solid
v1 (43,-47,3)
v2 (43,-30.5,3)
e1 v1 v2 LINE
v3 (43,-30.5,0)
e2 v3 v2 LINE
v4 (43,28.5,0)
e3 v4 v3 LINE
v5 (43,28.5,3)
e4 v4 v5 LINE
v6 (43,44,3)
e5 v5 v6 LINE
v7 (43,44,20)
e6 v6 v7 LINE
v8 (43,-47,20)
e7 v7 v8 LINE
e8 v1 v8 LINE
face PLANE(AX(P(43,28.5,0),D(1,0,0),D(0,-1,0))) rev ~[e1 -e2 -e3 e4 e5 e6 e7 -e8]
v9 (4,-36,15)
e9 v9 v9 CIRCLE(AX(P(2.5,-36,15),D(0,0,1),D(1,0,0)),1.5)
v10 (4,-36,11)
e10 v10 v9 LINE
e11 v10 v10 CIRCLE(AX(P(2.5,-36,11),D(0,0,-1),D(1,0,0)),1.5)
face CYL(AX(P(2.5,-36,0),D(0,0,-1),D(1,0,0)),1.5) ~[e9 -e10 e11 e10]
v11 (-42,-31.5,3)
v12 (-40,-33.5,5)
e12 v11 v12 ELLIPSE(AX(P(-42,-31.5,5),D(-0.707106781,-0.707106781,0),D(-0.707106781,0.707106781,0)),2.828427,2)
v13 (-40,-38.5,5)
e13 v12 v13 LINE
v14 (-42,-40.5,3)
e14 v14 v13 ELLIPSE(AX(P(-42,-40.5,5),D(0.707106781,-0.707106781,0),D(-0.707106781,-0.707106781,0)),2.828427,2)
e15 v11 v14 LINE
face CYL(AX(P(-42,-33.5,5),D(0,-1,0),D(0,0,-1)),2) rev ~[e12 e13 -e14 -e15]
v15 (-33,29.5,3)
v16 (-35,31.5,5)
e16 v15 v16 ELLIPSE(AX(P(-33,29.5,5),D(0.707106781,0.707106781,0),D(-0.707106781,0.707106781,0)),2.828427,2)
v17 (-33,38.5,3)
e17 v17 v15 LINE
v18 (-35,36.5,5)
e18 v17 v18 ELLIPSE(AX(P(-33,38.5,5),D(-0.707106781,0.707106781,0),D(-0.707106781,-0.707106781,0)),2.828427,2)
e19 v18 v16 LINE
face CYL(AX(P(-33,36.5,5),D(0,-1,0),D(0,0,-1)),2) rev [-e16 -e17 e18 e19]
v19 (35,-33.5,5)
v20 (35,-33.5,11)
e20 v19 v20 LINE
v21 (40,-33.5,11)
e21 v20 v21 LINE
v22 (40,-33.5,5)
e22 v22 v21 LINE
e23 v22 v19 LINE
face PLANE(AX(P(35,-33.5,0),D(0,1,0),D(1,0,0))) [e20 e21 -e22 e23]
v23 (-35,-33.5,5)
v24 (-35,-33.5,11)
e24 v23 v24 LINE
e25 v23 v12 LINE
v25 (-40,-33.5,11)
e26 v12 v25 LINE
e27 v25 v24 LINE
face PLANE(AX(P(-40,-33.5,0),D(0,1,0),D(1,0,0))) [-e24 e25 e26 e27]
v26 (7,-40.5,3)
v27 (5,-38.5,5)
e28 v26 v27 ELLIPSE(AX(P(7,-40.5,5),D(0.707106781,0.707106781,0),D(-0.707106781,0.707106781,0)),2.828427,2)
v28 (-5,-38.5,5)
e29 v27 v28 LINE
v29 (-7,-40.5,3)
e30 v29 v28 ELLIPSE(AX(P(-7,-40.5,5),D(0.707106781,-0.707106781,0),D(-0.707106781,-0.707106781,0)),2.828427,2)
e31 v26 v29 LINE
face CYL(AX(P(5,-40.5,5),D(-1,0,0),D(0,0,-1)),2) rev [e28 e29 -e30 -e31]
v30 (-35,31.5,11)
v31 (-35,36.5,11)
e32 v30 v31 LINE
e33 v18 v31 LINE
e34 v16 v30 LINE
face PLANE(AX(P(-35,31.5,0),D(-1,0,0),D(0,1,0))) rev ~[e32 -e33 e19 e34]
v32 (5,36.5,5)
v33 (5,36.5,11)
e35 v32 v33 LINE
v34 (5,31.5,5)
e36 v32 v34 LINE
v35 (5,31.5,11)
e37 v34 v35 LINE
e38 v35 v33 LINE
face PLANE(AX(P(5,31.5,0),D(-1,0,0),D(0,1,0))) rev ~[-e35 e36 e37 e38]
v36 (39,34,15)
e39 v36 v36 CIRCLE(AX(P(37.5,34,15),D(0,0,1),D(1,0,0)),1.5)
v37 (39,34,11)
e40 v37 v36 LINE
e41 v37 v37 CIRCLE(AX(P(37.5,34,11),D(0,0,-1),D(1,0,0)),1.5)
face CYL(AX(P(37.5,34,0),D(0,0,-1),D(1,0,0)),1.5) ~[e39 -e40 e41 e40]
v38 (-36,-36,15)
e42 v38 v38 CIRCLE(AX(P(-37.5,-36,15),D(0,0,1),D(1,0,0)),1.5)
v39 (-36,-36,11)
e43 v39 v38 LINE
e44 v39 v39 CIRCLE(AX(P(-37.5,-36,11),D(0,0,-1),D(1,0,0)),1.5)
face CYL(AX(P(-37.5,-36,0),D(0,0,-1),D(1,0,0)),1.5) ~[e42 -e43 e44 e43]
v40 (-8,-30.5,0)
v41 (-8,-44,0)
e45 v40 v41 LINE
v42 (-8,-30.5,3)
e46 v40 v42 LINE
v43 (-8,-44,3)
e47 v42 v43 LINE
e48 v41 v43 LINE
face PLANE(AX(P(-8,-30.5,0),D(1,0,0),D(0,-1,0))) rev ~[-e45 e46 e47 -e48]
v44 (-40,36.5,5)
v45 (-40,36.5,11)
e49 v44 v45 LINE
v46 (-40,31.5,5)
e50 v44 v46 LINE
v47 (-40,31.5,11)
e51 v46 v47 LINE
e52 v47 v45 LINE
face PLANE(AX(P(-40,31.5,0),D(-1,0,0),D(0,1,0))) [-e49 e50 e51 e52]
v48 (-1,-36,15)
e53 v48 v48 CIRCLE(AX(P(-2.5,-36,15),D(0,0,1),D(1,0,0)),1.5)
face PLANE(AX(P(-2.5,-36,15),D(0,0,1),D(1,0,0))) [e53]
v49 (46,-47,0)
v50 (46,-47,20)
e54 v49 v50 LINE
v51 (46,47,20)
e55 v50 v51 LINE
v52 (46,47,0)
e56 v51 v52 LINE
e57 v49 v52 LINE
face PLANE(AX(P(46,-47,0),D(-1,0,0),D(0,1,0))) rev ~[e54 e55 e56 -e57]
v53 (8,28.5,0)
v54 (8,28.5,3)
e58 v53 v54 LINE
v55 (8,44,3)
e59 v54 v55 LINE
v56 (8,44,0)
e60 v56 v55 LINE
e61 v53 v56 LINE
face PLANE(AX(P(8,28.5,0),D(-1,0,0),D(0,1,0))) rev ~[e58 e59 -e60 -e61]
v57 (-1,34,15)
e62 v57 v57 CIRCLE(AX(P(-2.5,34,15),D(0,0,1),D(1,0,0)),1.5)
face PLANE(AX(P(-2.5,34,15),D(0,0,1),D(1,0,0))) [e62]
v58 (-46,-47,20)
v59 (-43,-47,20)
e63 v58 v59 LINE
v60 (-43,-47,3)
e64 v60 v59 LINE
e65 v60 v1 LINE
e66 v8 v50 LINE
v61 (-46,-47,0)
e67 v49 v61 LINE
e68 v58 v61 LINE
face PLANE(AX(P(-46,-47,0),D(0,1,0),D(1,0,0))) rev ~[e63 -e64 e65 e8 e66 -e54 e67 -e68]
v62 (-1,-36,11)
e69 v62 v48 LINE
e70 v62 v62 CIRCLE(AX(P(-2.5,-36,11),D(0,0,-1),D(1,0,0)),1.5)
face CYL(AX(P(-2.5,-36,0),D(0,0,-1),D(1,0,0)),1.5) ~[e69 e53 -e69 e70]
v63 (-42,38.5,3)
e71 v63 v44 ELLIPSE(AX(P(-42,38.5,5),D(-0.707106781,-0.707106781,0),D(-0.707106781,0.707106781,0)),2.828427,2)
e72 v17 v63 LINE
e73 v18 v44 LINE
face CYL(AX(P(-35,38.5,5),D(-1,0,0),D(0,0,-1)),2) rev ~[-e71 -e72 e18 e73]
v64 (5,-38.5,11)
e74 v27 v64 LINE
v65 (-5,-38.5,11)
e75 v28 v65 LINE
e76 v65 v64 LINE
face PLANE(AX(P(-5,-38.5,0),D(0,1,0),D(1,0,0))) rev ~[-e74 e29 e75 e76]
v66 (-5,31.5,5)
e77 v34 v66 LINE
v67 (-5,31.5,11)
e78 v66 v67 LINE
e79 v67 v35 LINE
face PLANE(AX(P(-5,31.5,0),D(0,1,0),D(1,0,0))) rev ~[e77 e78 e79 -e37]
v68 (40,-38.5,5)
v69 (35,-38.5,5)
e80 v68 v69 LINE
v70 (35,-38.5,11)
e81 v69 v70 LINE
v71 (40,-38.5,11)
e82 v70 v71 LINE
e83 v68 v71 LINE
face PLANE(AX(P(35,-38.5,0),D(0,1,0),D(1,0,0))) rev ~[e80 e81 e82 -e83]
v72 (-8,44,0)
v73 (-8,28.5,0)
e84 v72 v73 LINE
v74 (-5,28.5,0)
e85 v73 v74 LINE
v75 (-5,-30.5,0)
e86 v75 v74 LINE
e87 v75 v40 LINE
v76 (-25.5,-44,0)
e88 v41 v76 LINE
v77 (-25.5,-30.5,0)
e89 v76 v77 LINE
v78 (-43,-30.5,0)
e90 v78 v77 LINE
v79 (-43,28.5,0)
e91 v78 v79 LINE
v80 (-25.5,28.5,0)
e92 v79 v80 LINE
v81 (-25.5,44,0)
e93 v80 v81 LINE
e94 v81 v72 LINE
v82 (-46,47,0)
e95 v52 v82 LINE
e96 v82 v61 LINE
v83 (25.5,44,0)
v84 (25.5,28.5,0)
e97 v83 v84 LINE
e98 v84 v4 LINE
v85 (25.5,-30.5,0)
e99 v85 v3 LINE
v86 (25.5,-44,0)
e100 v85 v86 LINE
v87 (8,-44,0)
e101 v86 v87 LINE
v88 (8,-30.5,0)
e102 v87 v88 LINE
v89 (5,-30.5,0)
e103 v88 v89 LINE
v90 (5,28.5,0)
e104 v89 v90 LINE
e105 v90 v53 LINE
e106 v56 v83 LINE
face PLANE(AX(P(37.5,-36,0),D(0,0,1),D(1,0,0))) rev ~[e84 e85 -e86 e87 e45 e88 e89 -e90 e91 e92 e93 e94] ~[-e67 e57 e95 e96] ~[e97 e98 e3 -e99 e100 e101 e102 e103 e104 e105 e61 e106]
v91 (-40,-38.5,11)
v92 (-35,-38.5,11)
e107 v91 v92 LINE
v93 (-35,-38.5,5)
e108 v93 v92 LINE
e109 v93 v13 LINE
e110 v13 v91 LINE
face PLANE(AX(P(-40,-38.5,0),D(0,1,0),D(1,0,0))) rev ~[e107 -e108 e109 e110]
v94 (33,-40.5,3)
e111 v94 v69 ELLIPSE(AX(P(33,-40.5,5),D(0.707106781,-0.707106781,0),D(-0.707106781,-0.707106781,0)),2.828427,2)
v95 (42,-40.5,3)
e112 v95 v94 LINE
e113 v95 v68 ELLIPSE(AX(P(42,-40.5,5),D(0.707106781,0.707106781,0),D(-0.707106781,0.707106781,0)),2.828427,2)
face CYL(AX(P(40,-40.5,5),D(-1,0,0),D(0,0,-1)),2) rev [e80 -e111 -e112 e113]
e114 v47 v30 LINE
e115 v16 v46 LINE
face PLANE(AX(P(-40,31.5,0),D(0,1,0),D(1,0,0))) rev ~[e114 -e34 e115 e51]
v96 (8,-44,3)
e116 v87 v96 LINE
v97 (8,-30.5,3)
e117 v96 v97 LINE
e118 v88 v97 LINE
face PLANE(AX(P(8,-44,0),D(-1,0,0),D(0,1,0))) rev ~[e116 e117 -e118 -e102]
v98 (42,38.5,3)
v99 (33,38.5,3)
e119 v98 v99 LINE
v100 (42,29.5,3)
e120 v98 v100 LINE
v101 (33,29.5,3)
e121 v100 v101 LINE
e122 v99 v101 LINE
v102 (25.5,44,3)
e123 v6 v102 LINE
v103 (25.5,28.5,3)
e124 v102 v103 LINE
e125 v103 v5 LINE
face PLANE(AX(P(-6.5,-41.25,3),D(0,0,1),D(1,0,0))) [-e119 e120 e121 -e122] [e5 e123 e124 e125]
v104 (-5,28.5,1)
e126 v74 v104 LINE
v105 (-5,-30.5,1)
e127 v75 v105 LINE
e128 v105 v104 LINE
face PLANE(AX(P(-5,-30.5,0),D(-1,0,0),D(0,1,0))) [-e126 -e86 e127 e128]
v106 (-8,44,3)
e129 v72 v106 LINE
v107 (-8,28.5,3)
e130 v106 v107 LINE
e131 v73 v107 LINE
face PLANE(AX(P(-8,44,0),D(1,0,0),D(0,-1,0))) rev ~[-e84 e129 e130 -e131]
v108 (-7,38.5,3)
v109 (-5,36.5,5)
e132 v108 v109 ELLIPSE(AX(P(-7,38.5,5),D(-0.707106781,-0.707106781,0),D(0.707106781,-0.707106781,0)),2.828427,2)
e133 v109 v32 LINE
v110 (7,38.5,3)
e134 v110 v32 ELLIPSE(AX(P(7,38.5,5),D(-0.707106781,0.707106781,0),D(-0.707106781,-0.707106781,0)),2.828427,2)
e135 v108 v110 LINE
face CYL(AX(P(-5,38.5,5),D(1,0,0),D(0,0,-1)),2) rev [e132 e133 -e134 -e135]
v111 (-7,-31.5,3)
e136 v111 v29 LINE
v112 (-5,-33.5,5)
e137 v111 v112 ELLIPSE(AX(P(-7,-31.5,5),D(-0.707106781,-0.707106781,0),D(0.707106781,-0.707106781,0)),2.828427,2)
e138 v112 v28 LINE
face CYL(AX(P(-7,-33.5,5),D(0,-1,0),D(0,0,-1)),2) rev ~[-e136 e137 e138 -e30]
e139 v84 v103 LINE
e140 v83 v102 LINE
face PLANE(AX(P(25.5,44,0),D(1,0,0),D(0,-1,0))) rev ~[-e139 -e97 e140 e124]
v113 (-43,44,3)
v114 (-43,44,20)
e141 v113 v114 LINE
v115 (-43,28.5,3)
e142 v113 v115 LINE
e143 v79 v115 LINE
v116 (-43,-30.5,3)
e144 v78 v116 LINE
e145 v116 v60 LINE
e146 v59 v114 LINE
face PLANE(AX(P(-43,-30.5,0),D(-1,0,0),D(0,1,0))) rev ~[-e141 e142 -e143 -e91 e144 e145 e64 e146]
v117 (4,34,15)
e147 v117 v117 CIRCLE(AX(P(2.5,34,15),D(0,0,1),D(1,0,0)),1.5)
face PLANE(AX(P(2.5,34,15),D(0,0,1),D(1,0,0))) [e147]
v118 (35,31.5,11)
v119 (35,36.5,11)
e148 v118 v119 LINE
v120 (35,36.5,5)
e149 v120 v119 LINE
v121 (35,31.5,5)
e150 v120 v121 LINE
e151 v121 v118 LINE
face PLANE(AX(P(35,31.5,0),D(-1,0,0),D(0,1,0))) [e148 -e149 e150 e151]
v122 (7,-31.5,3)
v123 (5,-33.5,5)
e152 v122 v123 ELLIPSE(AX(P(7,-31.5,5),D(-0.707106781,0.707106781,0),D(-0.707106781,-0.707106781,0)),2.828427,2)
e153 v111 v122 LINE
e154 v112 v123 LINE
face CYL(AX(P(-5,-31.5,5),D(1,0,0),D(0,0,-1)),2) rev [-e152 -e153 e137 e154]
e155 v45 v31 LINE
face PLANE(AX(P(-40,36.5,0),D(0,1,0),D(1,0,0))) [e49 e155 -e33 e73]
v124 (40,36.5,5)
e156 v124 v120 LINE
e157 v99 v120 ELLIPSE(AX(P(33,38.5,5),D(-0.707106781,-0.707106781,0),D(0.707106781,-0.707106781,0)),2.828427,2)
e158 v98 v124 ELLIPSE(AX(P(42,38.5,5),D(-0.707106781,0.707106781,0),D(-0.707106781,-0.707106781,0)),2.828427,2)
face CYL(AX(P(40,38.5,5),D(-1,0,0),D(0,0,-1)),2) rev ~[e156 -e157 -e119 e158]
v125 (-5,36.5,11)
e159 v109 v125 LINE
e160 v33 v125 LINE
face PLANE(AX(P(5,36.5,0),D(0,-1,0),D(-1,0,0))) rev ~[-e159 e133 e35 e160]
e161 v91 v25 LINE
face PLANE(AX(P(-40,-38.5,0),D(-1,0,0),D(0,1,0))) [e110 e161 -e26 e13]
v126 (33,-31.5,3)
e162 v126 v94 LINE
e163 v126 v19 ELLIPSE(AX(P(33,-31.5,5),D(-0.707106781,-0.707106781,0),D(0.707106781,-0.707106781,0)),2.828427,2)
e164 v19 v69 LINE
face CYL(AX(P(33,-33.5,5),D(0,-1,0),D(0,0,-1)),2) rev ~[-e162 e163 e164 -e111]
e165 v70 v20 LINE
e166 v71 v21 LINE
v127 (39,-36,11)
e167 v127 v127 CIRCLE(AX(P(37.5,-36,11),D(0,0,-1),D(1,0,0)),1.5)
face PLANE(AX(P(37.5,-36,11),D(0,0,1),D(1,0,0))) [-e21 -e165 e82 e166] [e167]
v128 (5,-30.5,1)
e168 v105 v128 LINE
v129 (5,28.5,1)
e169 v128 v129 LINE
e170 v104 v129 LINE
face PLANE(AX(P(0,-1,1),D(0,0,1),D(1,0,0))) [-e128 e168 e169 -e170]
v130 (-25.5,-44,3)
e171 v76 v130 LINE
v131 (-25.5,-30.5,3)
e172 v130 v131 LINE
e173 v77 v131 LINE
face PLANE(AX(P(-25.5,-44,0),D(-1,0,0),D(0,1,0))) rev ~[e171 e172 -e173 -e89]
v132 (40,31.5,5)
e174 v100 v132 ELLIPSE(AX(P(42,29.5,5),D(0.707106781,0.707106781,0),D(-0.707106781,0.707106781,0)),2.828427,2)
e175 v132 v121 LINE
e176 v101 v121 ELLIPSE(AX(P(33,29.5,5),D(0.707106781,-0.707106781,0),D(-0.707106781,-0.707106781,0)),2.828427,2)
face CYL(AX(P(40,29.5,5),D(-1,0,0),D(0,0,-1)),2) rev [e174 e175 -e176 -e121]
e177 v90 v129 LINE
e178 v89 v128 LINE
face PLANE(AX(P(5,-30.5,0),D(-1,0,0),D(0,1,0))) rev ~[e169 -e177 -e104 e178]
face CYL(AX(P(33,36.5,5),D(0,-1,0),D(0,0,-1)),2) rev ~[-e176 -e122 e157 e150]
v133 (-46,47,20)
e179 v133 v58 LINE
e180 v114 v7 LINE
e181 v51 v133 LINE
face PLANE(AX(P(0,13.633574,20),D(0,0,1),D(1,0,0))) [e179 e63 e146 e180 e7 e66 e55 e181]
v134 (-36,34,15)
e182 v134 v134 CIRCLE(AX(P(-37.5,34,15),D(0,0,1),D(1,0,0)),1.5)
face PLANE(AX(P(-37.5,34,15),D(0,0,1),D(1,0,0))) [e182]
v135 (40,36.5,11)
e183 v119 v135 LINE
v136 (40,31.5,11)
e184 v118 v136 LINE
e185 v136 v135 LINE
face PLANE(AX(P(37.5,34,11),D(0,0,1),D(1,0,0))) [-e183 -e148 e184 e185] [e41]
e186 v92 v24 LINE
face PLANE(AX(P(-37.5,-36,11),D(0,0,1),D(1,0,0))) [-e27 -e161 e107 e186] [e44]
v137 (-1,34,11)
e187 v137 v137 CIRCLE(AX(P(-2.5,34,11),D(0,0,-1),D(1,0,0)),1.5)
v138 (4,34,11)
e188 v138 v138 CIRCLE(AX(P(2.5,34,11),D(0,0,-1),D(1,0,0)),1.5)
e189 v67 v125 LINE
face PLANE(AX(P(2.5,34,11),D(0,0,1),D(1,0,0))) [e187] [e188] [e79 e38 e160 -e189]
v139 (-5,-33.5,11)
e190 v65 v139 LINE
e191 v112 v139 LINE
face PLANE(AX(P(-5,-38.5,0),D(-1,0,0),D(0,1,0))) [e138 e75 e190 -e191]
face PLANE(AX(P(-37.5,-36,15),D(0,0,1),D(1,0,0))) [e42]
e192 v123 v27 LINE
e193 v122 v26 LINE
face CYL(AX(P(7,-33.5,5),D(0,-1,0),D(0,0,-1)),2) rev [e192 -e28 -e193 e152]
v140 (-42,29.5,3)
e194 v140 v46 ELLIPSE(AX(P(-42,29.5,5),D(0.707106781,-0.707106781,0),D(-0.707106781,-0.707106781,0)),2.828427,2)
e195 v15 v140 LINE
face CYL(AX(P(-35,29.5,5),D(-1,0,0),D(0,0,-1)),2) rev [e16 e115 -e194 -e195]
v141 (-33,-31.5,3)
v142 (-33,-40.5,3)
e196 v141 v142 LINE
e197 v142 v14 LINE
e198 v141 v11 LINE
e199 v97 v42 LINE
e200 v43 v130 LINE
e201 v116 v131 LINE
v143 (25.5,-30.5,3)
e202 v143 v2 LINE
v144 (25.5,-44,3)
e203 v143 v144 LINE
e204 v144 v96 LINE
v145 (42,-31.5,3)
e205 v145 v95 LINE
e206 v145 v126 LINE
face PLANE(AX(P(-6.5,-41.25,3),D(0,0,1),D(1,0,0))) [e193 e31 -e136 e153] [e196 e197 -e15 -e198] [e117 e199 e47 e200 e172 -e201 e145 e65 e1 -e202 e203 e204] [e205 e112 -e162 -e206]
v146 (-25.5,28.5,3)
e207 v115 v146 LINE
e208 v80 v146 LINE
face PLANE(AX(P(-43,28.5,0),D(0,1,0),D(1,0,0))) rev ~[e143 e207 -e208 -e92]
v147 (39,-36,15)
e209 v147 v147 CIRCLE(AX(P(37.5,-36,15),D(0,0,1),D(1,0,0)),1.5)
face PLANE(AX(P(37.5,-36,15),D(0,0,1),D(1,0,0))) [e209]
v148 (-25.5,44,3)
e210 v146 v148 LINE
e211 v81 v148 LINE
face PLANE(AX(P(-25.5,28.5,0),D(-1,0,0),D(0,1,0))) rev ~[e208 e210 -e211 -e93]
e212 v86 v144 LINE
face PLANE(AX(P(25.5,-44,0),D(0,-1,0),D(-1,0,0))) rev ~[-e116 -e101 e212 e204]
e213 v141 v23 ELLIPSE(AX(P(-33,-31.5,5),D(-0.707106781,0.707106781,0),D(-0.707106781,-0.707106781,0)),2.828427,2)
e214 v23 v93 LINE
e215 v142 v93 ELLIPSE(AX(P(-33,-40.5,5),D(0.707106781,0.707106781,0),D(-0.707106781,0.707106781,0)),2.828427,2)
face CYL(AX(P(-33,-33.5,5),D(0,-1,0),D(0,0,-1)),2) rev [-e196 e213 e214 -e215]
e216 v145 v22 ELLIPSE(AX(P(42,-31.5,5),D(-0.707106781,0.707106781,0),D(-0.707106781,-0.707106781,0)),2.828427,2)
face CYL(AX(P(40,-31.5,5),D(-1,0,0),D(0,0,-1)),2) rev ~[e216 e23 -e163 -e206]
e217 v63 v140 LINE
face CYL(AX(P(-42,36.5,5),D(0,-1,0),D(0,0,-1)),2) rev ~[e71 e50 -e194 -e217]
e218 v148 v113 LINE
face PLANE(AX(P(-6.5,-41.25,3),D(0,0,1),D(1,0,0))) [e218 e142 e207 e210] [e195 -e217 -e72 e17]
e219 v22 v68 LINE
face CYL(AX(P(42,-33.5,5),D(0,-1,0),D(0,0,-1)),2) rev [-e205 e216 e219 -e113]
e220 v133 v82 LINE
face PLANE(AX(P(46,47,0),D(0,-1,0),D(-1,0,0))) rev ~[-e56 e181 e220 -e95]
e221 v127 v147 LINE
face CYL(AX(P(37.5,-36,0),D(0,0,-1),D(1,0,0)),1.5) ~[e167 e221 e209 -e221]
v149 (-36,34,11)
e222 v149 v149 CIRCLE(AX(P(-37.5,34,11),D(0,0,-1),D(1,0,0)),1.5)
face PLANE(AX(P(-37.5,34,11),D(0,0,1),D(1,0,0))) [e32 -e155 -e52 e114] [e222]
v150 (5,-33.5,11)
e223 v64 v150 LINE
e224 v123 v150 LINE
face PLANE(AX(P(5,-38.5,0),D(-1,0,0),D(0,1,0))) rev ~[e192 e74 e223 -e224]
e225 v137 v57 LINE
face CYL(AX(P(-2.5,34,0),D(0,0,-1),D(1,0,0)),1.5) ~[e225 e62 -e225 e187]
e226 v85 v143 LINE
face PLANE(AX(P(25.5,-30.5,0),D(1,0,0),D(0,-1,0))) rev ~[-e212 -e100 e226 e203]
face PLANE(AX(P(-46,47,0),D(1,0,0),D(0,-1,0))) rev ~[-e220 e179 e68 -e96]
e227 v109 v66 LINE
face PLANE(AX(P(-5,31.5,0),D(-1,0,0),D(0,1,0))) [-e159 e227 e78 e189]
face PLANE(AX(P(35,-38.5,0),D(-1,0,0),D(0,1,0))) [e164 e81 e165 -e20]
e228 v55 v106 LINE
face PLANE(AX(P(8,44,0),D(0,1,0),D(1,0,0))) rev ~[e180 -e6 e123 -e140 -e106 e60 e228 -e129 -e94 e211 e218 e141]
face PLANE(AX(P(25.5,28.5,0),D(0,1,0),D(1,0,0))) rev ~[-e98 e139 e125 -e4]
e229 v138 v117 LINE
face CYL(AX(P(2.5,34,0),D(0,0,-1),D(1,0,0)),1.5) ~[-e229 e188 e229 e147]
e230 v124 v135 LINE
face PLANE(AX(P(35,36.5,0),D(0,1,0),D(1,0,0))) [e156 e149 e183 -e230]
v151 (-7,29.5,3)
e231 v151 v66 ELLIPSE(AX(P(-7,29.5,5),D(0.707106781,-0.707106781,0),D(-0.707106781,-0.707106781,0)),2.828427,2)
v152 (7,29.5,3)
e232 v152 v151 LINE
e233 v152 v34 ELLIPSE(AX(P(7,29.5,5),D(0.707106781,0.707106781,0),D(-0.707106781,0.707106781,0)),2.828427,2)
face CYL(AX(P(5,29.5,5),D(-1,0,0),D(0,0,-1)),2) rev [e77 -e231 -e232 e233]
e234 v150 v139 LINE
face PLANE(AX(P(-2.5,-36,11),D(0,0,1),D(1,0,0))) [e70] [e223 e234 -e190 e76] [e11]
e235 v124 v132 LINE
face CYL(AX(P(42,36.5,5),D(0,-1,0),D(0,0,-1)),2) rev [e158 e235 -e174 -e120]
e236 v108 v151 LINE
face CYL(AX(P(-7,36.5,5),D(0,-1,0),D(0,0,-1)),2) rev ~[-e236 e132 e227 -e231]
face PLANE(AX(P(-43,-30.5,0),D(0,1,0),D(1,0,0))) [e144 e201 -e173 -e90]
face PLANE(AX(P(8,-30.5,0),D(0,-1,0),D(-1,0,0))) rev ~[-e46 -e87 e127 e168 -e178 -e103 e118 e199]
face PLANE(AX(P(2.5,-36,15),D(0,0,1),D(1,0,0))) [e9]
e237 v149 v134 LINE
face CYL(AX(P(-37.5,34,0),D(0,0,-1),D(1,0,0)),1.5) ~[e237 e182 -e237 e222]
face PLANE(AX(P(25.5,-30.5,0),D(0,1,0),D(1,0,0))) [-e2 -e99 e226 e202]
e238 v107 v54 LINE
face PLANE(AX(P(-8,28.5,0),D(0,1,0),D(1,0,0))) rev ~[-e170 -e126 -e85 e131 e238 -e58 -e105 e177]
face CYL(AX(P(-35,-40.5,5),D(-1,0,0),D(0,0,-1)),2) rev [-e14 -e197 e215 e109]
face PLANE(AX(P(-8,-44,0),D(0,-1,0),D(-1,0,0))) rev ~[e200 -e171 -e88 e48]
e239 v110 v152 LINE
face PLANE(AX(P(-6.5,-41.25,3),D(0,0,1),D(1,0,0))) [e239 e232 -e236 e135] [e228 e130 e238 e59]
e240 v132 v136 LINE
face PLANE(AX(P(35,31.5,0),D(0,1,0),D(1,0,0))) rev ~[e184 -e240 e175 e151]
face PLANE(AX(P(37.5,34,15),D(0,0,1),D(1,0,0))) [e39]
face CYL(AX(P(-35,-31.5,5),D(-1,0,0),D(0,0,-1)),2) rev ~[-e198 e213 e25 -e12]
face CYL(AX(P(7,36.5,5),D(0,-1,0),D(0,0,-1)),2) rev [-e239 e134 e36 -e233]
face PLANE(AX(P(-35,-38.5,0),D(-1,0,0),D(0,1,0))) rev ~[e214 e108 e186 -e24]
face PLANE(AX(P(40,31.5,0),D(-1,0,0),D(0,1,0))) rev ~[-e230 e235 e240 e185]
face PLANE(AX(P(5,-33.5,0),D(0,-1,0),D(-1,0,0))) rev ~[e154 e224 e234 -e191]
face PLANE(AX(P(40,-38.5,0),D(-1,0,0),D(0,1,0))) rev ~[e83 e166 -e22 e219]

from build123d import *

# Parameters (mm, degrees)
F1_W     = 3
F1_H     = 5.5
F1_H_2   = 7.5
F1_H_3   = 5
F1_H_4   = 3
F1_W_2   = 17.5
F1_W_3   = 10
F2_DEPTH = 3
F3_DEPTH = 20
F0_W     = 5
F0_H     = 5
F0_R     = 1.5
F4_DEPTH = 11
F5_DEPTH = 15
F6_R     = 2
F1_H_5   = 59
F7_DEPTH = 1


with BuildPart() as f2:
    # F1 (on Top) → F2 (new body)
    with BuildSketch(Plane.XY):
        with Locations((-6.5, -41.25)):
            Rectangle(F1_W, F1_H)
        with Locations((-6.5, 40.25)):
            Rectangle(F1_W, F1_H_2)
        with Locations((-6.5, 34)):
            Rectangle(F1_W, F1_H_3)
        with Locations((-6.5, 30)):
            Rectangle(F1_W, F1_H_4)
        with Locations((-6.5, -36)):
            Rectangle(F1_W, F1_H_3)
        with Locations((-6.5, -32)):
            Rectangle(F1_W, F1_H_4)
        Polygon((43, -47), (43, -44), (25.5, -44), (8, -44), (5, -44), (-5, -44), (-8, -44), (-25.5, -44), (-43, -44), (-43, -47), align=None)
        Polygon((43, -38.5), (43, -44), (43, -47), (46, -47), (46, 47), (-46, 47), (-46, -47), (-43, -47), (-43, -44), (-43, -38.5), (-43, -33.5), (-43, -30.5), (-43, 28.5), (-43, 31.5), (-43, 36.5), (-43, 44), (-25.5, 44), (-8, 44), (-5, 44), (5, 44), (8, 44), (25.5, 44), (43, 44), (43, 36.5), (43, 31.5), (43, 28.5), (43, -30.5), (43, -33.5), align=None)
        with Locations((-34.25, 40.25)):
            Rectangle(F1_W_2, F1_H_2)
        with Locations((0, 40.25)):
            Rectangle(F1_W_3, F1_H_2)
        with Locations((6.5, 40.25)):
            Rectangle(F1_W, F1_H_2)
        with Locations((34.25, 40.25)):
            Rectangle(F1_W_2, F1_H_2)
        with Locations((34.25, 34)):
            Rectangle(F1_W_2, F1_H_3)
        with Locations((6.5, 34)):
            Rectangle(F1_W, F1_H_3)
        with Locations((-34.25, 34)):
            Rectangle(F1_W_2, F1_H_3)
        with Locations((0, 34)):
            Rectangle(F1_W_3, F1_H_3)
        with Locations((-34.25, 30)):
            Rectangle(F1_W_2, F1_H_4)
        with Locations((6.5, 30)):
            Rectangle(F1_W, F1_H_4)
        with Locations((34.25, 30)):
            Rectangle(F1_W_2, F1_H_4)
        with Locations((0, 30)):
            Rectangle(F1_W_3, F1_H_4)
        with Locations((0, -41.25)):
            Rectangle(F1_W_3, F1_H)
        with Locations((0, -36)):
            Rectangle(F1_W_3, F1_H_3)
        with Locations((0, -32)):
            Rectangle(F1_W_3, F1_H_4)
        with Locations((6.5, -41.25)):
            Rectangle(F1_W, F1_H)
        with Locations((6.5, -36)):
            Rectangle(F1_W, F1_H_3)
        with Locations((6.5, -32)):
            Rectangle(F1_W, F1_H_4)
        with Locations((-34.25, -32)):
            Rectangle(F1_W_2, F1_H_4)
        with Locations((34.25, -32)):
            Rectangle(F1_W_2, F1_H_4)
        with Locations((34.25, -36)):
            Rectangle(F1_W_2, F1_H_3)
        with Locations((-34.25, -36)):
            Rectangle(F1_W_2, F1_H_3)
        with Locations((-34.25, -41.25)):
            Rectangle(F1_W_2, F1_H)
        with Locations((34.25, -41.25)):
            Rectangle(F1_W_2, F1_H)
    extrude(amount=F2_DEPTH)

    # F1 (on Top) → F3 (join)
    with BuildSketch(Plane.XY):
        Polygon((43, -38.5), (43, -44), (43, -47), (46, -47), (46, 47), (-46, 47), (-46, -47), (-43, -47), (-43, -44), (-43, -38.5), (-43, -33.5), (-43, -30.5), (-43, 28.5), (-43, 31.5), (-43, 36.5), (-43, 44), (-25.5, 44), (-8, 44), (-5, 44), (5, 44), (8, 44), (25.5, 44), (43, 44), (43, 36.5), (43, 31.5), (43, 28.5), (43, -30.5), (43, -33.5), align=None)
    extrude(amount=F3_DEPTH)

    # F0 (on Top) → F4 (join)
    with BuildSketch(Plane.XY):
        with Locations((37.5, 34)):
            Rectangle(F0_W, F0_H)
        with Locations((37.5, 34)):
            Circle(F0_R, mode=Mode.SUBTRACT)
        with Locations((2.5, 34)):
            Rectangle(F0_W, F0_H)
        with Locations((2.5, 34)):
            Circle(F0_R, mode=Mode.SUBTRACT)
        with Locations((-2.5, 34)):
            Rectangle(F0_W, F0_H)
        with Locations((-2.5, 34)):
            Circle(F0_R, mode=Mode.SUBTRACT)
        with Locations((-37.5, 34)):
            Rectangle(F0_W, F0_H)
        with Locations((-37.5, 34)):
            Circle(F0_R, mode=Mode.SUBTRACT)
        with Locations((37.5, -36)):
            Rectangle(F0_W, F0_H)
        with Locations((37.5, -36)):
            Circle(F0_R, mode=Mode.SUBTRACT)
        with Locations((-2.5, -36)):
            Rectangle(F0_W, F0_H)
        with Locations((-2.5, -36)):
            Circle(F0_R, mode=Mode.SUBTRACT)
        with Locations((2.5, -36)):
            Rectangle(F0_W, F0_H)
        with Locations((2.5, -36)):
            Circle(F0_R, mode=Mode.SUBTRACT)
        with Locations((-37.5, -36)):
            Rectangle(F0_W, F0_H)
        with Locations((-37.5, -36)):
            Circle(F0_R, mode=Mode.SUBTRACT)
        with Locations((37.5, 34)):
            Circle(F0_R)
        with Locations((2.5, 34)):
            Circle(F0_R)
        with Locations((-2.5, 34)):
            Circle(F0_R)
        with Locations((-37.5, 34)):
            Circle(F0_R)
        with Locations((37.5, -36)):
            Circle(F0_R)
        with Locations((-2.5, -36)):
            Circle(F0_R)
        with Locations((2.5, -36)):
            Circle(F0_R)
        with Locations((-37.5, -36)):
            Circle(F0_R)
    extrude(amount=F4_DEPTH)

    # F0 (on Top) → F5 (join)
    with BuildSketch(Plane.XY):
        with Locations((37.5, -36)):
            Circle(F0_R)
        with Locations((2.5, -36)):
            Circle(F0_R)
        with Locations((-2.5, -36)):
            Circle(F0_R)
        with Locations((-37.5, -36)):
            Circle(F0_R)
        with Locations((-37.5, 34)):
            Circle(F0_R)
        with Locations((-2.5, 34)):
            Circle(F0_R)
        with Locations((2.5, 34)):
            Circle(F0_R)
        with Locations((37.5, 34)):
            Circle(F0_R)
    extrude(amount=F5_DEPTH)

    # F6
    f6_edges = [f2.edges().sort_by_distance(p)[0] for p in [
        (-37.5, -38.5, 3),
        (-35, -36, 3),
        (-37.5, -33.5, 3),
        (-40, -36, 3),
        (0, -38.5, 3),
        (-37.5, 31.5, 3),
        (0, 31.5, 3),
        (37.5, -38.5, 3),
        (5, -36, 3),
        (5, 34, 3),
        (-35, 34, 3),
        (-5, 34, 3),
        (-5, -36, 3),
        (35, 34, 3),
        (37.5, 31.5, 3),
        (35, -36, 3),
        (0, -33.5, 3),
        (40, -36, 3),
        (37.5, -33.5, 3),
        (-37.5, 36.5, 3),
        (-40, 34, 3),
        (0, 36.5, 3),
        (37.5, 36.5, 3),
        (40, 34, 3),
    ]]
    fillet(f6_edges, radius=F6_R)

    # F1 (on Top) → F7 (join)
    with BuildSketch(Plane.XY):
        with Locations((0, -1)):
            Rectangle(F1_W_3, F1_H_5)
    extrude(amount=F7_DEPTH)


solid = f2.part
